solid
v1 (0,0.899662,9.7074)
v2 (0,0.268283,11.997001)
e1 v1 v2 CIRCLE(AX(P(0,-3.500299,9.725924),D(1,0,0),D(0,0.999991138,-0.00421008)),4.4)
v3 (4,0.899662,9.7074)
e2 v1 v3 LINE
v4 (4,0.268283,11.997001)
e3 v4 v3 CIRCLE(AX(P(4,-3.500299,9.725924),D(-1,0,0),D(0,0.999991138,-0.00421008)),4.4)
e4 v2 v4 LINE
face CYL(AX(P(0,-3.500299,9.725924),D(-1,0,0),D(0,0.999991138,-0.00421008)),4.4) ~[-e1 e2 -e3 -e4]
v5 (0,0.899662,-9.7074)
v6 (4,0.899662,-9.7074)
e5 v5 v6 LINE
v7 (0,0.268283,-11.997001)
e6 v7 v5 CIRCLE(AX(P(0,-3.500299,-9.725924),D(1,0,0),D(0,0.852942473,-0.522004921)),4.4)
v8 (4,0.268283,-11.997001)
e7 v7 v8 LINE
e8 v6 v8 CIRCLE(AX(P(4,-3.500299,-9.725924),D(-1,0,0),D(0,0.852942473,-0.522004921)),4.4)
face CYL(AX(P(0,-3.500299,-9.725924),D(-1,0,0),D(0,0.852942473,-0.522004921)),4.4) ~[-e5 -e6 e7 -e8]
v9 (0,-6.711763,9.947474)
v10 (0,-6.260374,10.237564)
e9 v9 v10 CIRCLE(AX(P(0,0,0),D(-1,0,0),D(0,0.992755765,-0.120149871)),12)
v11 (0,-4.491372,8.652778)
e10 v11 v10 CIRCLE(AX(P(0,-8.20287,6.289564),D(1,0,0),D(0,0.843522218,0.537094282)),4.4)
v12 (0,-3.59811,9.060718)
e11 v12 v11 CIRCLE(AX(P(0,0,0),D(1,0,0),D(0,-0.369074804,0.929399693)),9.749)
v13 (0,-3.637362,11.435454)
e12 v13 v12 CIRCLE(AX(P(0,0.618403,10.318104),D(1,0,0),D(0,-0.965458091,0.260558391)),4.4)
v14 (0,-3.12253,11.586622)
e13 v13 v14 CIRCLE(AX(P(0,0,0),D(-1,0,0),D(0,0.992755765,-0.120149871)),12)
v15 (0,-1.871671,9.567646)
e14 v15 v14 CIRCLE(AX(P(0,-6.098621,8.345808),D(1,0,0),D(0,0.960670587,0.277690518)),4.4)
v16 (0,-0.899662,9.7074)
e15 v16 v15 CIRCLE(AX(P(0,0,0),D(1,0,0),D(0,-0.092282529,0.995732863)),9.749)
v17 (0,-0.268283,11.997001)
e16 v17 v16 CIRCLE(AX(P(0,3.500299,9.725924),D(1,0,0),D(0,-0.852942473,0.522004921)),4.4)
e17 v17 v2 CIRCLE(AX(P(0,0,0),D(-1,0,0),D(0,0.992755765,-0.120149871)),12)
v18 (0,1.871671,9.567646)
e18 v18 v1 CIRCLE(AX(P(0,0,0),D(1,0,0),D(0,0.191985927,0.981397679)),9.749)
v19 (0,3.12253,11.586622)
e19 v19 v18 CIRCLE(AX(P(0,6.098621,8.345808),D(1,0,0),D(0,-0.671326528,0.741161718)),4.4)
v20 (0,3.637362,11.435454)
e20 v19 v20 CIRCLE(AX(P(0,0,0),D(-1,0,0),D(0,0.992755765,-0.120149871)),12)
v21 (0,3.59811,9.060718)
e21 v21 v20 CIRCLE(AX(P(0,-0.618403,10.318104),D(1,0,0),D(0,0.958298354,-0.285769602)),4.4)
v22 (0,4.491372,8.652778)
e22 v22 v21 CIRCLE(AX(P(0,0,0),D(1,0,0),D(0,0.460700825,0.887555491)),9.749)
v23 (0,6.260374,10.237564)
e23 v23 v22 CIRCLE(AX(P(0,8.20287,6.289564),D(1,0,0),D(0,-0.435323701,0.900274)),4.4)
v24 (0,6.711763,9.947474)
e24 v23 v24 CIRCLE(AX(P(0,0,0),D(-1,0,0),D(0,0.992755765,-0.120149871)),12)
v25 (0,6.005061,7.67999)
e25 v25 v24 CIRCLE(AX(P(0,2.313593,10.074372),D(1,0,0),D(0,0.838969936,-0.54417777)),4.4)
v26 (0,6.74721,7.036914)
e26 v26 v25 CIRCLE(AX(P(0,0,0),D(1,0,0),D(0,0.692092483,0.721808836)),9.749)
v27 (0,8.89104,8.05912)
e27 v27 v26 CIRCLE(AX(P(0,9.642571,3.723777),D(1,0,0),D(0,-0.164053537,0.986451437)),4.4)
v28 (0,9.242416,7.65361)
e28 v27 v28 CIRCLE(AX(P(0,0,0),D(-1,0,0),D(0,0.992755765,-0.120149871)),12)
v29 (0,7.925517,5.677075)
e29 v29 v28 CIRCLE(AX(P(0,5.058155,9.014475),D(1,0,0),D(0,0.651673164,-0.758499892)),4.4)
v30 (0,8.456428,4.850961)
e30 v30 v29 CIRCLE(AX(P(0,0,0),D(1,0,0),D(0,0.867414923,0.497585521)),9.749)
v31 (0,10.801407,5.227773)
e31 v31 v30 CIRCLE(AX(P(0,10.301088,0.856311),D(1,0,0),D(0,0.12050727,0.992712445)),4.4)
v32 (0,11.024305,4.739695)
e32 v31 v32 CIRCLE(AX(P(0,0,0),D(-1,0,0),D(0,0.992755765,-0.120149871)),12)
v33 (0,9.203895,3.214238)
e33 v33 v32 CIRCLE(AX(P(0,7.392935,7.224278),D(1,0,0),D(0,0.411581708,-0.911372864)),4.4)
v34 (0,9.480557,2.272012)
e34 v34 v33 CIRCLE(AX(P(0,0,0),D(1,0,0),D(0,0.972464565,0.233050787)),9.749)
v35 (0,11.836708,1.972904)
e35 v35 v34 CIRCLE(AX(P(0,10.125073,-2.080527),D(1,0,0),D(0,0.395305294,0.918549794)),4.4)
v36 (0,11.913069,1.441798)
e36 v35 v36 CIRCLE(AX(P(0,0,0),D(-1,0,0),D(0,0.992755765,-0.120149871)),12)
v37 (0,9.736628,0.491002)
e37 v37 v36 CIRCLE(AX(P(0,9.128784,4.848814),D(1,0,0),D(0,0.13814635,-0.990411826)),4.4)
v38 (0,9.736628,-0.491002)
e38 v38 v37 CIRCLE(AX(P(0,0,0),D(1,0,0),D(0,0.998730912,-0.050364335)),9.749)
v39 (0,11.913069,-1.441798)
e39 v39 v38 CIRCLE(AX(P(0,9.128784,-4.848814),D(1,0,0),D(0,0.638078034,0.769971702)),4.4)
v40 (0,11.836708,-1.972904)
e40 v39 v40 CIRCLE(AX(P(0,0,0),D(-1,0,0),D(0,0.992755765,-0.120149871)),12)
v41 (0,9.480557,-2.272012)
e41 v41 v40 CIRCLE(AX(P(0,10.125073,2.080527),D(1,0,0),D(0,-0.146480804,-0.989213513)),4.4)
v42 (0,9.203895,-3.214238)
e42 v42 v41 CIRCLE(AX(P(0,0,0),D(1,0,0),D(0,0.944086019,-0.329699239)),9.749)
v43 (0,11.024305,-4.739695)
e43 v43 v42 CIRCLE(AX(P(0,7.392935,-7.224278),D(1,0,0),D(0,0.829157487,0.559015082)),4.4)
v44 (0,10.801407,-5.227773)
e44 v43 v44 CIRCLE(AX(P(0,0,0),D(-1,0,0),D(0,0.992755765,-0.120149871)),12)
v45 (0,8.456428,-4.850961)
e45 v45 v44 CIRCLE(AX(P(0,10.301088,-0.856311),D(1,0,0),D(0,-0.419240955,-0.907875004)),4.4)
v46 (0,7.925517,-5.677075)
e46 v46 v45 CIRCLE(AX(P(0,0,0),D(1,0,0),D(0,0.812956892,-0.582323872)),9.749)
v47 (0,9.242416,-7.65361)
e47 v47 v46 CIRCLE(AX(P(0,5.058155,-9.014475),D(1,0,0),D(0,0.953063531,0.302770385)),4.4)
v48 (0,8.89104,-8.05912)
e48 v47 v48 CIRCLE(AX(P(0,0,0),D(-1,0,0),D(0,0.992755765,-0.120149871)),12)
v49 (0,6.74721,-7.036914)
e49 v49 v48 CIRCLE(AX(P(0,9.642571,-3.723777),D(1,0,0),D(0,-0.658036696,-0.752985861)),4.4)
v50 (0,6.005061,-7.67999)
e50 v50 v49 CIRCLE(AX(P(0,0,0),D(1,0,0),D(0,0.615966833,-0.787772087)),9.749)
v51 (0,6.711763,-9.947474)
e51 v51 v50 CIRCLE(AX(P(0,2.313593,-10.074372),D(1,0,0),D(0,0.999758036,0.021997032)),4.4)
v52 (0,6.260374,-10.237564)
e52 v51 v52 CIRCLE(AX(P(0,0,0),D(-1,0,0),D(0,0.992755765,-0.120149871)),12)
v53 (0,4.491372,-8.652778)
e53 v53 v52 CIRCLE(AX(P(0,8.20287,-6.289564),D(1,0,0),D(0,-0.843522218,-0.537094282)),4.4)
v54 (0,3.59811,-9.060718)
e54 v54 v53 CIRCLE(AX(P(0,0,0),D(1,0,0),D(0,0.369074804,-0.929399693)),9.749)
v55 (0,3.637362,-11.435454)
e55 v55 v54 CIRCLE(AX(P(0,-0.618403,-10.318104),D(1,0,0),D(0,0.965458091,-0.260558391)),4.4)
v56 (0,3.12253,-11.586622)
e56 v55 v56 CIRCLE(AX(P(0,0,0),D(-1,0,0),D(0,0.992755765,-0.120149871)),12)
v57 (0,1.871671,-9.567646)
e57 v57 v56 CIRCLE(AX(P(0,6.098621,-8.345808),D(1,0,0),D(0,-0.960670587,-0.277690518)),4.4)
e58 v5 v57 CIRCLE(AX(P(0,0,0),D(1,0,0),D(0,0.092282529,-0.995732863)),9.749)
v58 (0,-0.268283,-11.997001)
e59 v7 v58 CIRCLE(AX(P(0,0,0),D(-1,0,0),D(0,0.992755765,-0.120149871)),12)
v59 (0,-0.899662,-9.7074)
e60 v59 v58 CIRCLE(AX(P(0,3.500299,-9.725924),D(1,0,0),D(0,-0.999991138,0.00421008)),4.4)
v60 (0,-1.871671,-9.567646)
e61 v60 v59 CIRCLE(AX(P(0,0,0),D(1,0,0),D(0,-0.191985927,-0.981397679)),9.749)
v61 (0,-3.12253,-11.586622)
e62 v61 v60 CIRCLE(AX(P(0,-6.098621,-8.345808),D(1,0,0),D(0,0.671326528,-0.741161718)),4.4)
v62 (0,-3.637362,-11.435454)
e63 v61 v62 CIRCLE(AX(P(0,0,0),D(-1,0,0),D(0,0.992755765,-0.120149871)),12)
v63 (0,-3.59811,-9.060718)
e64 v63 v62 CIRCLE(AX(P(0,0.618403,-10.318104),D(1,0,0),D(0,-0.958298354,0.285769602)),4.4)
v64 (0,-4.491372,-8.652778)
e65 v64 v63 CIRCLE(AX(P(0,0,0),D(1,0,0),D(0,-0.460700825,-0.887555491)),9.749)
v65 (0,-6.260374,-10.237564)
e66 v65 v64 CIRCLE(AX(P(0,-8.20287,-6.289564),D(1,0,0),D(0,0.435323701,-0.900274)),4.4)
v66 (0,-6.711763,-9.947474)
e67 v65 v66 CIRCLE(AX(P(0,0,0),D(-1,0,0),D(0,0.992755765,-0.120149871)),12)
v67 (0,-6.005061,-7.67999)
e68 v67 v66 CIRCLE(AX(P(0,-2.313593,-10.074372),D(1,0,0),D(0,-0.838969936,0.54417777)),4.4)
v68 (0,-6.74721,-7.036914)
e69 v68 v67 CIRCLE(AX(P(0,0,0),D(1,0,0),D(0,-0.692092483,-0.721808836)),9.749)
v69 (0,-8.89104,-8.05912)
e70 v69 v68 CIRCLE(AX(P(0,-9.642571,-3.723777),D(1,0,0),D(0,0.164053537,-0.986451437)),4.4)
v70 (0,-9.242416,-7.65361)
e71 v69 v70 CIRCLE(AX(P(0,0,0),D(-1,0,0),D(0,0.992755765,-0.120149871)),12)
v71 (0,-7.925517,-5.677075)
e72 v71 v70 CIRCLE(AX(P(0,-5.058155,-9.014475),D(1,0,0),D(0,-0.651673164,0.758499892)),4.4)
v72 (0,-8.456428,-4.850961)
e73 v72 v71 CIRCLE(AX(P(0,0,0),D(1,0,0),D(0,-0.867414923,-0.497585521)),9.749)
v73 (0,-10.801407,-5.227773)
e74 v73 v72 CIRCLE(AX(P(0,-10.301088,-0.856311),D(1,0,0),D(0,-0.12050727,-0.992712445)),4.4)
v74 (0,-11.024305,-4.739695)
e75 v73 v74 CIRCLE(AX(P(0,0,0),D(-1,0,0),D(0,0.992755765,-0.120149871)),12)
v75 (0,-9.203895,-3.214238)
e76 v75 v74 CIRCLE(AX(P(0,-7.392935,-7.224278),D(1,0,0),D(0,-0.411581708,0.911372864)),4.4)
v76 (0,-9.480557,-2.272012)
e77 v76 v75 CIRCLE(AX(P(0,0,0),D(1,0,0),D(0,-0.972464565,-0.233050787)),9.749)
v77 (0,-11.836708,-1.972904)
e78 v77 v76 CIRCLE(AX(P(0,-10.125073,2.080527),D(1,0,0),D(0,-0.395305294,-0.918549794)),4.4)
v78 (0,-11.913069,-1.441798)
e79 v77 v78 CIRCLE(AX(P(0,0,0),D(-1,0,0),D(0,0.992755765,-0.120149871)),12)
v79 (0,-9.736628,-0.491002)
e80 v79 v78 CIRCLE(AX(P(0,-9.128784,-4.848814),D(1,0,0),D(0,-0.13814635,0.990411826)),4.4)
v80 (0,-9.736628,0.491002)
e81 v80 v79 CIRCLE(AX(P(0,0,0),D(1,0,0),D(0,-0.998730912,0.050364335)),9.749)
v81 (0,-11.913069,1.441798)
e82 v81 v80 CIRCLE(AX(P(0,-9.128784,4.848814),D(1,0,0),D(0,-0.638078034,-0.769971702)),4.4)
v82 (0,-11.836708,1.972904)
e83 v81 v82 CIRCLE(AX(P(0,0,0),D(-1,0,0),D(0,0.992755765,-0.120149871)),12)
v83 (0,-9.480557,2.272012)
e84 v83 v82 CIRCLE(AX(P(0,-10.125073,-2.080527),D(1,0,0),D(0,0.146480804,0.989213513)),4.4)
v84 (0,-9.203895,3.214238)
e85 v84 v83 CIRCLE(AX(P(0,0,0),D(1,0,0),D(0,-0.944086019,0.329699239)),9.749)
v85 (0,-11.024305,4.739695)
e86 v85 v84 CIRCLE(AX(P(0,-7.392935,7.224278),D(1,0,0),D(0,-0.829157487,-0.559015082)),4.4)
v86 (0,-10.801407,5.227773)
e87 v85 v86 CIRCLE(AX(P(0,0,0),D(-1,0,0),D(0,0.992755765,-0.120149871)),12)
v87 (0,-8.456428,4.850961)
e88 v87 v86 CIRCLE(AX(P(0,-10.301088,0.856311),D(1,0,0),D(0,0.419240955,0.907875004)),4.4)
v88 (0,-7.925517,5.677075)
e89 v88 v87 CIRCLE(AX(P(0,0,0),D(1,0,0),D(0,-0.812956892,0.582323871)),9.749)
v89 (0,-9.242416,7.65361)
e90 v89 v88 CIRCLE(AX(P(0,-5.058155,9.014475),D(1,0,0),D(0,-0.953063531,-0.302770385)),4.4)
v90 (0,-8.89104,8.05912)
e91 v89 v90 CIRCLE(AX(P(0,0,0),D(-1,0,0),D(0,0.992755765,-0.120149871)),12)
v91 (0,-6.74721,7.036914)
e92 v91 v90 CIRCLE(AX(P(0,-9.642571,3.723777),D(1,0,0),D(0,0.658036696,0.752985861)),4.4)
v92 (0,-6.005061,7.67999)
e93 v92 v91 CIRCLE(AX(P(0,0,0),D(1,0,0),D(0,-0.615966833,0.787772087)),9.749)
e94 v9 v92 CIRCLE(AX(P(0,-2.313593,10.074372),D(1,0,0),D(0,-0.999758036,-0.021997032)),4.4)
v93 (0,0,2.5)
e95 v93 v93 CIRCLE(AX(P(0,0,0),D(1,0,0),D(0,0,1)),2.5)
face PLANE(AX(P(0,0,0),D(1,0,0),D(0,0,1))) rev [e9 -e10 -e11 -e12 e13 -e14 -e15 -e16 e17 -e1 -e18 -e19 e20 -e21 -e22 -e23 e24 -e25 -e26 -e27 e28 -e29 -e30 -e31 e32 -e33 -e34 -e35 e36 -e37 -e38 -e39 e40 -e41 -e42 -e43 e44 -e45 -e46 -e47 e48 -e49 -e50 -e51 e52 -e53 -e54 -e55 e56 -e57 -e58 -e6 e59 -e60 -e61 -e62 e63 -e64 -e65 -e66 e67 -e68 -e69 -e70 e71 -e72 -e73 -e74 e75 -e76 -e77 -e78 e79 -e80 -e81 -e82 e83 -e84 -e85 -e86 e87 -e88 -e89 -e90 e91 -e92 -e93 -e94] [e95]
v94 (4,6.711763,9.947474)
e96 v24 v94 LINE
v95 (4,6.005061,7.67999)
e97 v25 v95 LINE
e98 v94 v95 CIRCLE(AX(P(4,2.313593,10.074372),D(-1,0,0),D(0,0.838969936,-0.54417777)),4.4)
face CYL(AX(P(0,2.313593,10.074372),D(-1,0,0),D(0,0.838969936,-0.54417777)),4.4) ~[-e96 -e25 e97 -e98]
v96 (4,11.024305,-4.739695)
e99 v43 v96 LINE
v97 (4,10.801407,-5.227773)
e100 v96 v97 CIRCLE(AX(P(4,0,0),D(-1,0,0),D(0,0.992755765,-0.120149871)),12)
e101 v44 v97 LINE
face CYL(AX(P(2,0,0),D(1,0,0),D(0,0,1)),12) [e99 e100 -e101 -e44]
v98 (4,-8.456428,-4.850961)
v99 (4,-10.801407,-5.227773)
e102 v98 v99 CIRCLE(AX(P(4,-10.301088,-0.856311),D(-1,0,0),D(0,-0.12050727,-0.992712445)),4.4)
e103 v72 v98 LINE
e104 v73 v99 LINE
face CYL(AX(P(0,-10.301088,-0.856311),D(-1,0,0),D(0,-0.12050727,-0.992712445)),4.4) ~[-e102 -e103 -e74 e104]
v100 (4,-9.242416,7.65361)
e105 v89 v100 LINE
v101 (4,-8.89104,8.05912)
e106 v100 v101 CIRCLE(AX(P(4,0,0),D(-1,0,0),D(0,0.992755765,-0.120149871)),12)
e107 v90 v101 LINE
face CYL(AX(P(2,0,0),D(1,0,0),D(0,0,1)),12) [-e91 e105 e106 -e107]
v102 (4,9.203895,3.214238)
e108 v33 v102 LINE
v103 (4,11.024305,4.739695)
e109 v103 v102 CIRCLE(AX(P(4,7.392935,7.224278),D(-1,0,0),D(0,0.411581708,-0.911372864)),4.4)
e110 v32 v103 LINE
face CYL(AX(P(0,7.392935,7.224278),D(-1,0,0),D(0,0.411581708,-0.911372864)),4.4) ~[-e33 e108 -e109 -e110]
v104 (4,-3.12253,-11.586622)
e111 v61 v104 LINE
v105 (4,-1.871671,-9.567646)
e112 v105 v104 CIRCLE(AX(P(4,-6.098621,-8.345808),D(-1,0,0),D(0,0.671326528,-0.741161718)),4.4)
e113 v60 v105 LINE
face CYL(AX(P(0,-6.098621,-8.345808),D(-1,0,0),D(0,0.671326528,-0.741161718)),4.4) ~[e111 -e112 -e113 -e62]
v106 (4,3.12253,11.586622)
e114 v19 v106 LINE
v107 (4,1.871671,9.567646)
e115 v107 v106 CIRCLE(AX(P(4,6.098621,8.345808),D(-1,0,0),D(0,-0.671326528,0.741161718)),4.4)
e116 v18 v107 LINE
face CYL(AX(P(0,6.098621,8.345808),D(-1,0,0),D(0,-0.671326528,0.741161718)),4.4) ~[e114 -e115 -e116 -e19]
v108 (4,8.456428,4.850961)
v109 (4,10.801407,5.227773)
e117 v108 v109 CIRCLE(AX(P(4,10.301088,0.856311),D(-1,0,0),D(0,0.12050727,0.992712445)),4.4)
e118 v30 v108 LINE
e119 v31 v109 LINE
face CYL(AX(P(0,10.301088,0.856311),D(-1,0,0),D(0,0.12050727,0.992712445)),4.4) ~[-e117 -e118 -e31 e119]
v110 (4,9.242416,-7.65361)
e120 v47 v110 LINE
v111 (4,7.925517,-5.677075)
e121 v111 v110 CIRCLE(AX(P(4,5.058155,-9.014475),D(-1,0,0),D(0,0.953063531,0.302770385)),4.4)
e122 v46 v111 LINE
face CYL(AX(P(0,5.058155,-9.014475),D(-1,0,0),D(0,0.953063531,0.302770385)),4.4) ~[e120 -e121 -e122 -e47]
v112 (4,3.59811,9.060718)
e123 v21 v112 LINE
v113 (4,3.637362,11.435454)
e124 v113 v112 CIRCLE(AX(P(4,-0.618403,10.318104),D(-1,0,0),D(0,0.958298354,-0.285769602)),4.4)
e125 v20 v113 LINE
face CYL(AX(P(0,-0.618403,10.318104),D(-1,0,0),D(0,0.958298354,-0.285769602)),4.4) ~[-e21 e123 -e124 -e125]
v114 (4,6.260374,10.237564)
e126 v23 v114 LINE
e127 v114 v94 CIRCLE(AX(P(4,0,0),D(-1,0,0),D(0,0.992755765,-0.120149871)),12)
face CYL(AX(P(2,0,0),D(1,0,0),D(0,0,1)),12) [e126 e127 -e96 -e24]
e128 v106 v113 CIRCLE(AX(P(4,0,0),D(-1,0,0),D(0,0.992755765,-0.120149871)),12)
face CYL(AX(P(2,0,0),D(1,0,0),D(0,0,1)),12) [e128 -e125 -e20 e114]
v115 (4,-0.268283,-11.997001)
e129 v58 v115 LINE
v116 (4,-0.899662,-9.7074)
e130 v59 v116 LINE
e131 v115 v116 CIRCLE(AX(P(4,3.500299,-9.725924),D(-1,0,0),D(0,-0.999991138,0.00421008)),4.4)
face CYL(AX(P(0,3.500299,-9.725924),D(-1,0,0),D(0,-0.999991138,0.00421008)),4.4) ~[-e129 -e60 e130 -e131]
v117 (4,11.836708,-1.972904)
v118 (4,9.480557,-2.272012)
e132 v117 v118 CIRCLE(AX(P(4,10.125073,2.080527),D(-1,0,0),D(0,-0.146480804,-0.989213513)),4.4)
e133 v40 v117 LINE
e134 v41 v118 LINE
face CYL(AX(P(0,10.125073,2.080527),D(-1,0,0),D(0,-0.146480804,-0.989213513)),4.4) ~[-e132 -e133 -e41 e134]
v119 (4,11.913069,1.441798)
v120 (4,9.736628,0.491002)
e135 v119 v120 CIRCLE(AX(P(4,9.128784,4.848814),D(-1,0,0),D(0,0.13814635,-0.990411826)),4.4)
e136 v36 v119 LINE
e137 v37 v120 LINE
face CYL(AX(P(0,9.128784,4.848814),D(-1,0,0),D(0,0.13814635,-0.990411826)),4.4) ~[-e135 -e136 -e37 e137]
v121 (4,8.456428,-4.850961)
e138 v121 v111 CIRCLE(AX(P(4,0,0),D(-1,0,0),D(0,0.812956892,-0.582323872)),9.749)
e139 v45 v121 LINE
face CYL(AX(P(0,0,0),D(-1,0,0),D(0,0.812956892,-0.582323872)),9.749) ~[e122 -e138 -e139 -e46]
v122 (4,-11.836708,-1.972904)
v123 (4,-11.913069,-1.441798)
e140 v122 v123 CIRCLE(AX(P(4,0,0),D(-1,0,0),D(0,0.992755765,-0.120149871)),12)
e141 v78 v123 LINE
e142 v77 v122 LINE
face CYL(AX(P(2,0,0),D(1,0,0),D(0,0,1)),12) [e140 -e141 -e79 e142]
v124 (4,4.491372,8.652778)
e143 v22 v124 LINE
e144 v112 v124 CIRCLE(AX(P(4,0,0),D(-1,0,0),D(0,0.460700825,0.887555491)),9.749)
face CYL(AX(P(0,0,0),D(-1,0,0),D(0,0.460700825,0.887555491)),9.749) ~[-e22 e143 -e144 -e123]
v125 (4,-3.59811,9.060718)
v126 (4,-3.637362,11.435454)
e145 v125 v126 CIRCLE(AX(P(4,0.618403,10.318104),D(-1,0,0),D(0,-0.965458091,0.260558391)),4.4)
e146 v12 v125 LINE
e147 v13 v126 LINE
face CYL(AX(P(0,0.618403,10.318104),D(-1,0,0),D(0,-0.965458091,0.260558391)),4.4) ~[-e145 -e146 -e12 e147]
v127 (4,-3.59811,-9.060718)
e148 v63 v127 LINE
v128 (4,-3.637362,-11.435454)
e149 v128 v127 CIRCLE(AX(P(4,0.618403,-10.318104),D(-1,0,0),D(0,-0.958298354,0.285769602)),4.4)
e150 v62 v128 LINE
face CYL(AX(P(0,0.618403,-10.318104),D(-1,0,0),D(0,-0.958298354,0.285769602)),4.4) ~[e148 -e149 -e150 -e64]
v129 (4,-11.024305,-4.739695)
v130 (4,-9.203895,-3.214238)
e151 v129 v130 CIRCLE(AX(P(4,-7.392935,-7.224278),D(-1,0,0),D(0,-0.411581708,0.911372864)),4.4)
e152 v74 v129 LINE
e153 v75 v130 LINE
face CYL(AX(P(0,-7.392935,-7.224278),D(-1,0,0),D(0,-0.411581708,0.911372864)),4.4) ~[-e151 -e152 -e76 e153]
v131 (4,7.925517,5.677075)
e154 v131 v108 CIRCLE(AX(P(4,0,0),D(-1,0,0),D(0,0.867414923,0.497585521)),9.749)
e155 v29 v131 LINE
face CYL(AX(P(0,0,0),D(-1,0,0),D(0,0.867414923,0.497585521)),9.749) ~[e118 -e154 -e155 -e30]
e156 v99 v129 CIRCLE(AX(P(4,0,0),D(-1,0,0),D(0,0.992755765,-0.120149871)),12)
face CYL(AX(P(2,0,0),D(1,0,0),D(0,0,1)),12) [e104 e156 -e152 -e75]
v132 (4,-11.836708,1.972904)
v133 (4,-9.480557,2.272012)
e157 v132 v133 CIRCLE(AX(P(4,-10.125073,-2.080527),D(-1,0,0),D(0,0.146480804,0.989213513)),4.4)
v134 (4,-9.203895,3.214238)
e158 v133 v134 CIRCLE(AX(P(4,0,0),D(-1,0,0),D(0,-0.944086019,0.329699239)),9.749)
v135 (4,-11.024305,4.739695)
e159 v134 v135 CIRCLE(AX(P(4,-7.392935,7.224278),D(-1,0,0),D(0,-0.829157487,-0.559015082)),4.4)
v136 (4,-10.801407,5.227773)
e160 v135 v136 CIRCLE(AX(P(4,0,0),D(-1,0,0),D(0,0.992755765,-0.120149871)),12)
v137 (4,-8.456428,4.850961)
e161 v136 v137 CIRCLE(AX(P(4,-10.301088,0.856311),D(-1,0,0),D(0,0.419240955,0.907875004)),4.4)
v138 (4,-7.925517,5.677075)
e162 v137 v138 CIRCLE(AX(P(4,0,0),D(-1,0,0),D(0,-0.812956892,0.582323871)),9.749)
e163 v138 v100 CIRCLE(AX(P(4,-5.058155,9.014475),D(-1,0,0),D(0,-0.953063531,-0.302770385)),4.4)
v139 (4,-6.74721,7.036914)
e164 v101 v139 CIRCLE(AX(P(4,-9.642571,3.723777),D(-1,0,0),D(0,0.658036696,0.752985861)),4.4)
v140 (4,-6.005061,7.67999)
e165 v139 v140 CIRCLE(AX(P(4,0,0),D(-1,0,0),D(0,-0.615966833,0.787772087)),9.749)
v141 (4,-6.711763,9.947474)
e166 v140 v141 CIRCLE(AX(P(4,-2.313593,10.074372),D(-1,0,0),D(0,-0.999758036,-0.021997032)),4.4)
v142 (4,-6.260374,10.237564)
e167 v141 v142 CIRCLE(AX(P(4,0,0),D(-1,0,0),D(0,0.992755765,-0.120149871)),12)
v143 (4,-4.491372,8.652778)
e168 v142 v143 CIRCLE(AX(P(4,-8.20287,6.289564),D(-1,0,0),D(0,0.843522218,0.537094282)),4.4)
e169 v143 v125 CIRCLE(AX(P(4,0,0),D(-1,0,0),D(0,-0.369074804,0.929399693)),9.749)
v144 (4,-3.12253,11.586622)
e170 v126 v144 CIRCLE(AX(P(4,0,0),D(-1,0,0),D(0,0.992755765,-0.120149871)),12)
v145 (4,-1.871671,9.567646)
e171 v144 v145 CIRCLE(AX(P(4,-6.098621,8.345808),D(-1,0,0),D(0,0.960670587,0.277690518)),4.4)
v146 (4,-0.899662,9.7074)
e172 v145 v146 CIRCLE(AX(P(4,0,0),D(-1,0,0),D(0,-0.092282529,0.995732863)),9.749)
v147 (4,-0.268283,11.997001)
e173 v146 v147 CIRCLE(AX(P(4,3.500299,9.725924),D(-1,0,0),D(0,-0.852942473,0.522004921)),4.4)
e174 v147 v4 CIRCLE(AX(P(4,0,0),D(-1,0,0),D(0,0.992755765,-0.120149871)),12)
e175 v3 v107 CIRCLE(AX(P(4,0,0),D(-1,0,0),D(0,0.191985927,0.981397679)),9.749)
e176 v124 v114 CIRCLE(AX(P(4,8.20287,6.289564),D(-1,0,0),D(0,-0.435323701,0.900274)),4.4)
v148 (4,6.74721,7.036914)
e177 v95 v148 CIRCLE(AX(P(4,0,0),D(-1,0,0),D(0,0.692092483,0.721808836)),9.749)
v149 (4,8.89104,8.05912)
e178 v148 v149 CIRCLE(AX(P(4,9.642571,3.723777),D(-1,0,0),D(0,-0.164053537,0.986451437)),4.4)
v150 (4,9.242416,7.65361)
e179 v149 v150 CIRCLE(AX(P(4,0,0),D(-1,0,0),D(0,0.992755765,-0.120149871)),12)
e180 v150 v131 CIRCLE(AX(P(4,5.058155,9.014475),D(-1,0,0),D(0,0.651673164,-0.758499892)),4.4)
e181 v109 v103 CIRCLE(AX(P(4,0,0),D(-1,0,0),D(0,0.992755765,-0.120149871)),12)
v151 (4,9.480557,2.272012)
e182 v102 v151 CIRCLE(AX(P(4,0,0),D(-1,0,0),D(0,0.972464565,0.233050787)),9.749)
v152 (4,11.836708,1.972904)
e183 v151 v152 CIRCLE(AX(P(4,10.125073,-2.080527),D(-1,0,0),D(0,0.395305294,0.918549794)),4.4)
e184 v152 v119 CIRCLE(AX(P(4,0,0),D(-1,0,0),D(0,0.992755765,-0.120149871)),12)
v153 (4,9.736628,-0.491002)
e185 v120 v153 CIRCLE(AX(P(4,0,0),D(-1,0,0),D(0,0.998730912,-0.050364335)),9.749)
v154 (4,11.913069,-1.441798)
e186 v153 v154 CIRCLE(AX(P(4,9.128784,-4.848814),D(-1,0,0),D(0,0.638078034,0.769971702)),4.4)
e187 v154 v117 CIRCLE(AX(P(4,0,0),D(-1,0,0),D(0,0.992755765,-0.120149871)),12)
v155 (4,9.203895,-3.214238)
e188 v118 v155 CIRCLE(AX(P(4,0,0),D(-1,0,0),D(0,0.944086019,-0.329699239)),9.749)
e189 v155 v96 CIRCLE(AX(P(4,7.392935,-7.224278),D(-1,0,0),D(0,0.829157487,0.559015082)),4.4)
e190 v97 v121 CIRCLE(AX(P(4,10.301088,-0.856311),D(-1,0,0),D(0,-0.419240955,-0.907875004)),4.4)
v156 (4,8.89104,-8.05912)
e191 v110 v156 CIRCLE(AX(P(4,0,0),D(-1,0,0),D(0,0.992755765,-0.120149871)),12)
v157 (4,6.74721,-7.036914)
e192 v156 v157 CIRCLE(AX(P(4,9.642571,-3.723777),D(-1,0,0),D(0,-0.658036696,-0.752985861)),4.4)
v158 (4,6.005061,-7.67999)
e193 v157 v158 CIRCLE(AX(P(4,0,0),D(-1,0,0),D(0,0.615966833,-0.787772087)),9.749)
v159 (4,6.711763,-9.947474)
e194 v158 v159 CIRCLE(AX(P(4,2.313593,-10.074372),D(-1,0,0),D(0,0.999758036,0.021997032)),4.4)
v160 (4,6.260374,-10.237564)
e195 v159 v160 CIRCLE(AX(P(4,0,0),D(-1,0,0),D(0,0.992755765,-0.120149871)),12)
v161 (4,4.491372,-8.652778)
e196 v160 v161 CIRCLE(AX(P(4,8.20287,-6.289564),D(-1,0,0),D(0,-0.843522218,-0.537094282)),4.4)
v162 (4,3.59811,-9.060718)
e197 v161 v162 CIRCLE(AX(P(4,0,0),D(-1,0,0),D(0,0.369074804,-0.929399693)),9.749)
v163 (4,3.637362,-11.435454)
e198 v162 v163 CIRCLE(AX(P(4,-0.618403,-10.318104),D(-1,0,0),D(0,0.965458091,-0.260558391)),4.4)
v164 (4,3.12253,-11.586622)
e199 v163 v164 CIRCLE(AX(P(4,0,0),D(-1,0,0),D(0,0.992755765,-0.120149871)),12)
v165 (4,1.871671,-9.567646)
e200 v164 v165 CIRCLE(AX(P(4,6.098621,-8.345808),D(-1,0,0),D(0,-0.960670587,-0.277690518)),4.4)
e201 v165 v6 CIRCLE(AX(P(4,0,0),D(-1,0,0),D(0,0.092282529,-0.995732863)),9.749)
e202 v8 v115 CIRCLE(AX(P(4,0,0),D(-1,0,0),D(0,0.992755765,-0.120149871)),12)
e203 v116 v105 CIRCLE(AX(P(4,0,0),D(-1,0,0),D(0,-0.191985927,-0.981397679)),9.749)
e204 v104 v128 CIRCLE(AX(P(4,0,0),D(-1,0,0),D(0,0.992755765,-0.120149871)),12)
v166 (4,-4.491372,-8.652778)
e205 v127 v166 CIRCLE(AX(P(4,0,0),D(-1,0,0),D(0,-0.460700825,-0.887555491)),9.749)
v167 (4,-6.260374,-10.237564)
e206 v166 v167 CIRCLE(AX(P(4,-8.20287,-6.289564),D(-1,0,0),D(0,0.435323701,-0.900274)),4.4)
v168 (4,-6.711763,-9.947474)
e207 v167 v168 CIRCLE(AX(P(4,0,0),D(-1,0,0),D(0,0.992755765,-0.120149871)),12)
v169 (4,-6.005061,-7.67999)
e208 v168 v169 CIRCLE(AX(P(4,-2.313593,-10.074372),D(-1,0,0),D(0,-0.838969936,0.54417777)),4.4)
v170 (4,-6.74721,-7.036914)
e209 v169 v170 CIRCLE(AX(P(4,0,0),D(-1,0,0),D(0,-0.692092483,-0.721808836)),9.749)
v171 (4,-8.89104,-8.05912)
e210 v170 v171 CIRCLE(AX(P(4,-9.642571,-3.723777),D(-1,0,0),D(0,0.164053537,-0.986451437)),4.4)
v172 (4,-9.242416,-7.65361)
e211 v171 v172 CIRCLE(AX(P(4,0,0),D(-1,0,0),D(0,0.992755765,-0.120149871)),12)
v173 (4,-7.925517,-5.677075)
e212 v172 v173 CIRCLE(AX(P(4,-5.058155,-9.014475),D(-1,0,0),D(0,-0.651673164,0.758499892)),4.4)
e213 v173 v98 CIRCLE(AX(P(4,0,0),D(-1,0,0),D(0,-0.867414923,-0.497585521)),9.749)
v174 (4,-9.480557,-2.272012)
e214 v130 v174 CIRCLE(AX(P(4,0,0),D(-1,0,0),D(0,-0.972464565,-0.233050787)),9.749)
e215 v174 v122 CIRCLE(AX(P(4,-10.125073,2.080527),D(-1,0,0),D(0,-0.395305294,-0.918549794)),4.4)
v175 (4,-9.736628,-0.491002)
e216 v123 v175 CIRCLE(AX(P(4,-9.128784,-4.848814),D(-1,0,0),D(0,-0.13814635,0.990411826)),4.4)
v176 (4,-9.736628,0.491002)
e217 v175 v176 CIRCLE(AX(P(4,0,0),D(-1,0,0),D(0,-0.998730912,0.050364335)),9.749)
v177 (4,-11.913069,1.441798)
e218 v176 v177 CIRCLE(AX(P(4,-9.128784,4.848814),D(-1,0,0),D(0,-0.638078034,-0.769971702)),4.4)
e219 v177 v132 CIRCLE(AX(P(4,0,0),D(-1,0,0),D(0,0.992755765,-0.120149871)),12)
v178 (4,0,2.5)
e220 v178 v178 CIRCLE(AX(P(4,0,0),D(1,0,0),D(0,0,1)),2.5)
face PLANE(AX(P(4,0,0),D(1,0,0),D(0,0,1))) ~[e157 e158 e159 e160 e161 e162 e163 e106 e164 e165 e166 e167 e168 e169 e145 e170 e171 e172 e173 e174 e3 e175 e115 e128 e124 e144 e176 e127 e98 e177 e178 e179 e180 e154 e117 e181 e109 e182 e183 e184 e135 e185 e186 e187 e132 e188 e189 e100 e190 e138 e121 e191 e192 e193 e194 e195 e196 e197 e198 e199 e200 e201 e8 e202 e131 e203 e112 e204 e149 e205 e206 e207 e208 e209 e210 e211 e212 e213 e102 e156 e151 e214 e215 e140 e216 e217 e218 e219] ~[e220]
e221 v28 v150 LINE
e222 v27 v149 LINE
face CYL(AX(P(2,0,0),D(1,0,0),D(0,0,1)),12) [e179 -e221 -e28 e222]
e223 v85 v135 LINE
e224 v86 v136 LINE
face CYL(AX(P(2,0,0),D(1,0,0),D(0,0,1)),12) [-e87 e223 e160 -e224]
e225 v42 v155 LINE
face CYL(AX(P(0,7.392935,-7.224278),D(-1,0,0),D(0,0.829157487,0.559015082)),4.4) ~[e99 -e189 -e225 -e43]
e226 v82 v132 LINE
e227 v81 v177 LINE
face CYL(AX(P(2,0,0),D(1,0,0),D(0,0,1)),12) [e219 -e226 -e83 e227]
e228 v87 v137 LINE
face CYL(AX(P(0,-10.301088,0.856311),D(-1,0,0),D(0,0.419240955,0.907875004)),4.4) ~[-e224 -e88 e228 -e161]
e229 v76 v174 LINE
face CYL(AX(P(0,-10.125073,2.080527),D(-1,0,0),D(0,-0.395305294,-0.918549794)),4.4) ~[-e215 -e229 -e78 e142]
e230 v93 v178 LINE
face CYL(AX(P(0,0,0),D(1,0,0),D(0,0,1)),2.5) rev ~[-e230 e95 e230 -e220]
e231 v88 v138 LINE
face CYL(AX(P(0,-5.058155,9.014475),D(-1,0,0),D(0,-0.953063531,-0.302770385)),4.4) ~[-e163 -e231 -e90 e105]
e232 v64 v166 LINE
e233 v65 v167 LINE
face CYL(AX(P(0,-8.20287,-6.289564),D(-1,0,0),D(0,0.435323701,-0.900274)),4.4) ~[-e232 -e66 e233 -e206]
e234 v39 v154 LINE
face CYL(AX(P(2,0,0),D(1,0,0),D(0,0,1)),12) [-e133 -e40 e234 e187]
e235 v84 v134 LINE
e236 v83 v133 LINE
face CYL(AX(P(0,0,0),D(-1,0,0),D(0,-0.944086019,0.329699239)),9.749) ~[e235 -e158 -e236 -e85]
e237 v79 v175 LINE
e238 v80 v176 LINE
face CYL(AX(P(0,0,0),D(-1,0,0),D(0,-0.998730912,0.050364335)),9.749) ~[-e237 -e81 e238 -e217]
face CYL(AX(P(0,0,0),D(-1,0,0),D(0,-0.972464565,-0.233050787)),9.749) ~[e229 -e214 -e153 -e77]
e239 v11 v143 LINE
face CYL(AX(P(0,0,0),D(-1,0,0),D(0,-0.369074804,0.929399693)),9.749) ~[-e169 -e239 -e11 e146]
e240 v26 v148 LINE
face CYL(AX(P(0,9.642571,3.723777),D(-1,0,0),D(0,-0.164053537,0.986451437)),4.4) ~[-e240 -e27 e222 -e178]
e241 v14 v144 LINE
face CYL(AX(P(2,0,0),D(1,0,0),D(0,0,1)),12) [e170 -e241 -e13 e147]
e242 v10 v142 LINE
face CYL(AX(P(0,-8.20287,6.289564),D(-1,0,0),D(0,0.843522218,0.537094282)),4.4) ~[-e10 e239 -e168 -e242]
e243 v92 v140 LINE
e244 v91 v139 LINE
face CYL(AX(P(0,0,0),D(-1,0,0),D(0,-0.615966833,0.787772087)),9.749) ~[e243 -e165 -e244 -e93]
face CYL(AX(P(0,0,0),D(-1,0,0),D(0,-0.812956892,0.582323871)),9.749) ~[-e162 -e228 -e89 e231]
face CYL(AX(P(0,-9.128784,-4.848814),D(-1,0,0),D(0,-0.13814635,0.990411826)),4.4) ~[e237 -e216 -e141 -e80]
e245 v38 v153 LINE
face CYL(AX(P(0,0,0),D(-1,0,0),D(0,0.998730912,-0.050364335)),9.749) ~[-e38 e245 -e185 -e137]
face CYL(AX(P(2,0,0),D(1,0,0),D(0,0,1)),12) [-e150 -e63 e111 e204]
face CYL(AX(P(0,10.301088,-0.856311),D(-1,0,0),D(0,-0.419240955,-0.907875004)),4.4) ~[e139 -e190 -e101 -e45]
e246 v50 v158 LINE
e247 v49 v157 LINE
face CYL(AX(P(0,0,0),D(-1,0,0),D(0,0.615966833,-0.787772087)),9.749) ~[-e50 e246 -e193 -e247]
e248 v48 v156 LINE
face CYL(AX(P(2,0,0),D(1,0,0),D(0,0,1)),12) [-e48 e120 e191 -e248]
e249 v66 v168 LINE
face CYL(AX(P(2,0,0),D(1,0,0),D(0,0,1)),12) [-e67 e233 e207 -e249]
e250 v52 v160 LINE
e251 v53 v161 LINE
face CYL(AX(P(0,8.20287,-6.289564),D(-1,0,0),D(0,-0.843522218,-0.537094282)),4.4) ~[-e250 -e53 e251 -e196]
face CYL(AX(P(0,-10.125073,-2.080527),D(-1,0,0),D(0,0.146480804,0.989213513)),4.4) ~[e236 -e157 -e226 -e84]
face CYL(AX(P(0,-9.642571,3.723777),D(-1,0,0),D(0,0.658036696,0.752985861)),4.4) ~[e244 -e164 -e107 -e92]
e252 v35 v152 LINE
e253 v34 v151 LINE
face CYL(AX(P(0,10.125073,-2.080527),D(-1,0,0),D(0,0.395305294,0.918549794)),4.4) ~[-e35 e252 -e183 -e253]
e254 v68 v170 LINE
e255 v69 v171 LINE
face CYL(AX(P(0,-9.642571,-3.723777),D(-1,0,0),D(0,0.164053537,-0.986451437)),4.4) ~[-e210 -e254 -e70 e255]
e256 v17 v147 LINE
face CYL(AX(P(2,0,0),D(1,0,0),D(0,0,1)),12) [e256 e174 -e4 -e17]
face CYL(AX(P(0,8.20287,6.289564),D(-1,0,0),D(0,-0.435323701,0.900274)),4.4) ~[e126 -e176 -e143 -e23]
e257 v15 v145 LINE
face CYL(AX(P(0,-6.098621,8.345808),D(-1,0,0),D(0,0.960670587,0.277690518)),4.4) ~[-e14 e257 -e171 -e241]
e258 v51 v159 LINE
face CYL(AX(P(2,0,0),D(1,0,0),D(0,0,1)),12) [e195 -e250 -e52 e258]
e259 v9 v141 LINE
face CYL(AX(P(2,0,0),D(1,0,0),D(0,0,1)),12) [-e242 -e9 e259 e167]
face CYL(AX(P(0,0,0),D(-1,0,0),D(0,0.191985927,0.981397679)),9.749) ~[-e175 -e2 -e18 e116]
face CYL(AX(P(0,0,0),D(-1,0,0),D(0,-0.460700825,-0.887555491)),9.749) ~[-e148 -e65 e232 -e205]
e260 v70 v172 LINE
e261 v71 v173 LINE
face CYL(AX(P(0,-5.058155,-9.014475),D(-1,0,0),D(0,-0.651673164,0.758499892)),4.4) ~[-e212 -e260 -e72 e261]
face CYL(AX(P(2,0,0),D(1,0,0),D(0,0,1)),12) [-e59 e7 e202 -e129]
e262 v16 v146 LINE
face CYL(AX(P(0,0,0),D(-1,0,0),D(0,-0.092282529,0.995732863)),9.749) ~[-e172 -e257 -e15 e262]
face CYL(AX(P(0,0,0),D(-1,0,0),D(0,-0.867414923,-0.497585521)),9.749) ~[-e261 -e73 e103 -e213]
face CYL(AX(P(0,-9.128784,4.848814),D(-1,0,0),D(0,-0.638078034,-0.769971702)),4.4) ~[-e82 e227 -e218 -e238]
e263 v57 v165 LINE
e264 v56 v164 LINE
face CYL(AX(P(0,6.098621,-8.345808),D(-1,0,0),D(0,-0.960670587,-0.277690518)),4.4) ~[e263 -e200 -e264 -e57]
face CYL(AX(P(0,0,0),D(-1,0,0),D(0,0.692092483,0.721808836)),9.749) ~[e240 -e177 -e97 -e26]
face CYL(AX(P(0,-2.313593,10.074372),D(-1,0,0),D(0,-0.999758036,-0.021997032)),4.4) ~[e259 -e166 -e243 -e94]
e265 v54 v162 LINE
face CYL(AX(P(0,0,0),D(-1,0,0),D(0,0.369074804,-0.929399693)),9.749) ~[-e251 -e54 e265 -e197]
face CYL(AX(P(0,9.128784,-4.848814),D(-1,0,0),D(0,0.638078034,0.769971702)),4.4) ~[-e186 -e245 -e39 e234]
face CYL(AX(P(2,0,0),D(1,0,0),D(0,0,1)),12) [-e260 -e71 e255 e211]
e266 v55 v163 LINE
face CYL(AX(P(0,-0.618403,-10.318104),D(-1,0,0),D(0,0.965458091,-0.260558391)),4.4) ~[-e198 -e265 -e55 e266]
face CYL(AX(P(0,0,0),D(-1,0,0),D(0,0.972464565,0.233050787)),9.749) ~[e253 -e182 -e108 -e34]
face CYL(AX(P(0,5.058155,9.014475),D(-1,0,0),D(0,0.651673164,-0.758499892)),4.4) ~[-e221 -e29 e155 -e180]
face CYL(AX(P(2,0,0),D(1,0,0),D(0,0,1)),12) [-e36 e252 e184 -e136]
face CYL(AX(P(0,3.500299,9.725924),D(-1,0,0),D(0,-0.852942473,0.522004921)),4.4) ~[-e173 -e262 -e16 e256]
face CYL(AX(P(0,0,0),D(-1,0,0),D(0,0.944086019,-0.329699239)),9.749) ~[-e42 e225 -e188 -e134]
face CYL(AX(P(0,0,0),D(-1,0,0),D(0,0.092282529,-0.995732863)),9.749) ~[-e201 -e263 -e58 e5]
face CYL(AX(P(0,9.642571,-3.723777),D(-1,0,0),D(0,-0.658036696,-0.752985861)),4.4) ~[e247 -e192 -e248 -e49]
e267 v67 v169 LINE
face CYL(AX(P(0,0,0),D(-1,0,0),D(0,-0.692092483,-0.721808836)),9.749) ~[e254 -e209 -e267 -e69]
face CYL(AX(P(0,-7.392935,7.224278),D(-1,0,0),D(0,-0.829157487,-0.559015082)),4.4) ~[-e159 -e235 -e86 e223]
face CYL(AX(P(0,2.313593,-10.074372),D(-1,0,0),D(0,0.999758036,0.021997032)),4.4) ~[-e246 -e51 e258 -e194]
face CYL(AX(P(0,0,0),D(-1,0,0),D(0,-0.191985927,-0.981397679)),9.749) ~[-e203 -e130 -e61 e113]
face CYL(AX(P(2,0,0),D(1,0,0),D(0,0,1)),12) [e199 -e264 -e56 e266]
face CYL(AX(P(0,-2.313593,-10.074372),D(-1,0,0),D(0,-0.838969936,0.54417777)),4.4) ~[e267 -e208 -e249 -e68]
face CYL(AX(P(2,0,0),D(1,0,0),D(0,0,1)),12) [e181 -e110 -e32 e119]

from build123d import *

# Parameters (mm, degrees)
BASPROSKE_W     = 4
BASPROSKE_H     = 12
TOOTHCUT_DEPTH  = 18.435595774
TEETHCUTS_COUNT = 22
TEETHCUTS_ANGLE = 343.636363636
BORSKE_R        = 2.5
BORE_DEPTH      = 50.0000508


with BuildPart() as part:
    # BasProSke → Base-Revolve (revolve)
    with BuildSketch(Plane(origin=(0, 0, 0), x_dir=(1, 0, 0), z_dir=(0, 1, 0)), mode=Mode.PRIVATE) as base_revolve_sk:
        with Locations((2, 6)):
            Rectangle(BASPROSKE_W, BASPROSKE_H)
    revolve(base_revolve_sk.sketch.rotate(Axis((-10, 0, 0), (1, 0, 0)), 180), axis=Axis((-10, 0, 0), (1, 0, 0)))

    # TooCutSke → ToothCut (cut, through all)
    with BuildSketch(Plane(origin=(0, 0, 0), x_dir=(0, 0, -1), z_dir=(1, 0, 0))):
        with BuildLine():
            ThreePointArc((0.491001901, 9.736627657), (0, 9.749), (-0.491001901, 9.736627657))
            ThreePointArc((-0.491001901, 9.736627657), (-0.822824844, 10.904005344), (-1.46093845, 11.936327074))
            ThreePointArc((-1.46093845, 11.936327074), (0, 12.0254), (1.46093845, 11.936327074))
            ThreePointArc((1.46093845, 11.936327074), (0.822824844, 10.904005344), (0.491001901, 9.736627657))
        make_face()
    toothcut = extrude(amount=TOOTHCUT_DEPTH, mode=Mode.SUBTRACT)

    # TeethCuts: ToothCut ×22 about axis
    teethcuts_axis = Axis((-10, 0, 0), (1, 0, 0))
    for i in range(1, TEETHCUTS_COUNT):
        add(toothcut.rotate(teethcuts_axis, i * TEETHCUTS_ANGLE / (TEETHCUTS_COUNT - 1)), mode=Mode.SUBTRACT)

    # BorSke → Bore (cut, symmetric)
    with BuildSketch(Plane(origin=(0, 0, 0), x_dir=(0, 0, -1), z_dir=(1, 0, 0))):
        with Locations(Location((0, 0, 0), (0, 0, 180))):
            Circle(BORSKE_R)
    extrude(amount=BORE_DEPTH, both=True, mode=Mode.SUBTRACT)


solid = part.part
